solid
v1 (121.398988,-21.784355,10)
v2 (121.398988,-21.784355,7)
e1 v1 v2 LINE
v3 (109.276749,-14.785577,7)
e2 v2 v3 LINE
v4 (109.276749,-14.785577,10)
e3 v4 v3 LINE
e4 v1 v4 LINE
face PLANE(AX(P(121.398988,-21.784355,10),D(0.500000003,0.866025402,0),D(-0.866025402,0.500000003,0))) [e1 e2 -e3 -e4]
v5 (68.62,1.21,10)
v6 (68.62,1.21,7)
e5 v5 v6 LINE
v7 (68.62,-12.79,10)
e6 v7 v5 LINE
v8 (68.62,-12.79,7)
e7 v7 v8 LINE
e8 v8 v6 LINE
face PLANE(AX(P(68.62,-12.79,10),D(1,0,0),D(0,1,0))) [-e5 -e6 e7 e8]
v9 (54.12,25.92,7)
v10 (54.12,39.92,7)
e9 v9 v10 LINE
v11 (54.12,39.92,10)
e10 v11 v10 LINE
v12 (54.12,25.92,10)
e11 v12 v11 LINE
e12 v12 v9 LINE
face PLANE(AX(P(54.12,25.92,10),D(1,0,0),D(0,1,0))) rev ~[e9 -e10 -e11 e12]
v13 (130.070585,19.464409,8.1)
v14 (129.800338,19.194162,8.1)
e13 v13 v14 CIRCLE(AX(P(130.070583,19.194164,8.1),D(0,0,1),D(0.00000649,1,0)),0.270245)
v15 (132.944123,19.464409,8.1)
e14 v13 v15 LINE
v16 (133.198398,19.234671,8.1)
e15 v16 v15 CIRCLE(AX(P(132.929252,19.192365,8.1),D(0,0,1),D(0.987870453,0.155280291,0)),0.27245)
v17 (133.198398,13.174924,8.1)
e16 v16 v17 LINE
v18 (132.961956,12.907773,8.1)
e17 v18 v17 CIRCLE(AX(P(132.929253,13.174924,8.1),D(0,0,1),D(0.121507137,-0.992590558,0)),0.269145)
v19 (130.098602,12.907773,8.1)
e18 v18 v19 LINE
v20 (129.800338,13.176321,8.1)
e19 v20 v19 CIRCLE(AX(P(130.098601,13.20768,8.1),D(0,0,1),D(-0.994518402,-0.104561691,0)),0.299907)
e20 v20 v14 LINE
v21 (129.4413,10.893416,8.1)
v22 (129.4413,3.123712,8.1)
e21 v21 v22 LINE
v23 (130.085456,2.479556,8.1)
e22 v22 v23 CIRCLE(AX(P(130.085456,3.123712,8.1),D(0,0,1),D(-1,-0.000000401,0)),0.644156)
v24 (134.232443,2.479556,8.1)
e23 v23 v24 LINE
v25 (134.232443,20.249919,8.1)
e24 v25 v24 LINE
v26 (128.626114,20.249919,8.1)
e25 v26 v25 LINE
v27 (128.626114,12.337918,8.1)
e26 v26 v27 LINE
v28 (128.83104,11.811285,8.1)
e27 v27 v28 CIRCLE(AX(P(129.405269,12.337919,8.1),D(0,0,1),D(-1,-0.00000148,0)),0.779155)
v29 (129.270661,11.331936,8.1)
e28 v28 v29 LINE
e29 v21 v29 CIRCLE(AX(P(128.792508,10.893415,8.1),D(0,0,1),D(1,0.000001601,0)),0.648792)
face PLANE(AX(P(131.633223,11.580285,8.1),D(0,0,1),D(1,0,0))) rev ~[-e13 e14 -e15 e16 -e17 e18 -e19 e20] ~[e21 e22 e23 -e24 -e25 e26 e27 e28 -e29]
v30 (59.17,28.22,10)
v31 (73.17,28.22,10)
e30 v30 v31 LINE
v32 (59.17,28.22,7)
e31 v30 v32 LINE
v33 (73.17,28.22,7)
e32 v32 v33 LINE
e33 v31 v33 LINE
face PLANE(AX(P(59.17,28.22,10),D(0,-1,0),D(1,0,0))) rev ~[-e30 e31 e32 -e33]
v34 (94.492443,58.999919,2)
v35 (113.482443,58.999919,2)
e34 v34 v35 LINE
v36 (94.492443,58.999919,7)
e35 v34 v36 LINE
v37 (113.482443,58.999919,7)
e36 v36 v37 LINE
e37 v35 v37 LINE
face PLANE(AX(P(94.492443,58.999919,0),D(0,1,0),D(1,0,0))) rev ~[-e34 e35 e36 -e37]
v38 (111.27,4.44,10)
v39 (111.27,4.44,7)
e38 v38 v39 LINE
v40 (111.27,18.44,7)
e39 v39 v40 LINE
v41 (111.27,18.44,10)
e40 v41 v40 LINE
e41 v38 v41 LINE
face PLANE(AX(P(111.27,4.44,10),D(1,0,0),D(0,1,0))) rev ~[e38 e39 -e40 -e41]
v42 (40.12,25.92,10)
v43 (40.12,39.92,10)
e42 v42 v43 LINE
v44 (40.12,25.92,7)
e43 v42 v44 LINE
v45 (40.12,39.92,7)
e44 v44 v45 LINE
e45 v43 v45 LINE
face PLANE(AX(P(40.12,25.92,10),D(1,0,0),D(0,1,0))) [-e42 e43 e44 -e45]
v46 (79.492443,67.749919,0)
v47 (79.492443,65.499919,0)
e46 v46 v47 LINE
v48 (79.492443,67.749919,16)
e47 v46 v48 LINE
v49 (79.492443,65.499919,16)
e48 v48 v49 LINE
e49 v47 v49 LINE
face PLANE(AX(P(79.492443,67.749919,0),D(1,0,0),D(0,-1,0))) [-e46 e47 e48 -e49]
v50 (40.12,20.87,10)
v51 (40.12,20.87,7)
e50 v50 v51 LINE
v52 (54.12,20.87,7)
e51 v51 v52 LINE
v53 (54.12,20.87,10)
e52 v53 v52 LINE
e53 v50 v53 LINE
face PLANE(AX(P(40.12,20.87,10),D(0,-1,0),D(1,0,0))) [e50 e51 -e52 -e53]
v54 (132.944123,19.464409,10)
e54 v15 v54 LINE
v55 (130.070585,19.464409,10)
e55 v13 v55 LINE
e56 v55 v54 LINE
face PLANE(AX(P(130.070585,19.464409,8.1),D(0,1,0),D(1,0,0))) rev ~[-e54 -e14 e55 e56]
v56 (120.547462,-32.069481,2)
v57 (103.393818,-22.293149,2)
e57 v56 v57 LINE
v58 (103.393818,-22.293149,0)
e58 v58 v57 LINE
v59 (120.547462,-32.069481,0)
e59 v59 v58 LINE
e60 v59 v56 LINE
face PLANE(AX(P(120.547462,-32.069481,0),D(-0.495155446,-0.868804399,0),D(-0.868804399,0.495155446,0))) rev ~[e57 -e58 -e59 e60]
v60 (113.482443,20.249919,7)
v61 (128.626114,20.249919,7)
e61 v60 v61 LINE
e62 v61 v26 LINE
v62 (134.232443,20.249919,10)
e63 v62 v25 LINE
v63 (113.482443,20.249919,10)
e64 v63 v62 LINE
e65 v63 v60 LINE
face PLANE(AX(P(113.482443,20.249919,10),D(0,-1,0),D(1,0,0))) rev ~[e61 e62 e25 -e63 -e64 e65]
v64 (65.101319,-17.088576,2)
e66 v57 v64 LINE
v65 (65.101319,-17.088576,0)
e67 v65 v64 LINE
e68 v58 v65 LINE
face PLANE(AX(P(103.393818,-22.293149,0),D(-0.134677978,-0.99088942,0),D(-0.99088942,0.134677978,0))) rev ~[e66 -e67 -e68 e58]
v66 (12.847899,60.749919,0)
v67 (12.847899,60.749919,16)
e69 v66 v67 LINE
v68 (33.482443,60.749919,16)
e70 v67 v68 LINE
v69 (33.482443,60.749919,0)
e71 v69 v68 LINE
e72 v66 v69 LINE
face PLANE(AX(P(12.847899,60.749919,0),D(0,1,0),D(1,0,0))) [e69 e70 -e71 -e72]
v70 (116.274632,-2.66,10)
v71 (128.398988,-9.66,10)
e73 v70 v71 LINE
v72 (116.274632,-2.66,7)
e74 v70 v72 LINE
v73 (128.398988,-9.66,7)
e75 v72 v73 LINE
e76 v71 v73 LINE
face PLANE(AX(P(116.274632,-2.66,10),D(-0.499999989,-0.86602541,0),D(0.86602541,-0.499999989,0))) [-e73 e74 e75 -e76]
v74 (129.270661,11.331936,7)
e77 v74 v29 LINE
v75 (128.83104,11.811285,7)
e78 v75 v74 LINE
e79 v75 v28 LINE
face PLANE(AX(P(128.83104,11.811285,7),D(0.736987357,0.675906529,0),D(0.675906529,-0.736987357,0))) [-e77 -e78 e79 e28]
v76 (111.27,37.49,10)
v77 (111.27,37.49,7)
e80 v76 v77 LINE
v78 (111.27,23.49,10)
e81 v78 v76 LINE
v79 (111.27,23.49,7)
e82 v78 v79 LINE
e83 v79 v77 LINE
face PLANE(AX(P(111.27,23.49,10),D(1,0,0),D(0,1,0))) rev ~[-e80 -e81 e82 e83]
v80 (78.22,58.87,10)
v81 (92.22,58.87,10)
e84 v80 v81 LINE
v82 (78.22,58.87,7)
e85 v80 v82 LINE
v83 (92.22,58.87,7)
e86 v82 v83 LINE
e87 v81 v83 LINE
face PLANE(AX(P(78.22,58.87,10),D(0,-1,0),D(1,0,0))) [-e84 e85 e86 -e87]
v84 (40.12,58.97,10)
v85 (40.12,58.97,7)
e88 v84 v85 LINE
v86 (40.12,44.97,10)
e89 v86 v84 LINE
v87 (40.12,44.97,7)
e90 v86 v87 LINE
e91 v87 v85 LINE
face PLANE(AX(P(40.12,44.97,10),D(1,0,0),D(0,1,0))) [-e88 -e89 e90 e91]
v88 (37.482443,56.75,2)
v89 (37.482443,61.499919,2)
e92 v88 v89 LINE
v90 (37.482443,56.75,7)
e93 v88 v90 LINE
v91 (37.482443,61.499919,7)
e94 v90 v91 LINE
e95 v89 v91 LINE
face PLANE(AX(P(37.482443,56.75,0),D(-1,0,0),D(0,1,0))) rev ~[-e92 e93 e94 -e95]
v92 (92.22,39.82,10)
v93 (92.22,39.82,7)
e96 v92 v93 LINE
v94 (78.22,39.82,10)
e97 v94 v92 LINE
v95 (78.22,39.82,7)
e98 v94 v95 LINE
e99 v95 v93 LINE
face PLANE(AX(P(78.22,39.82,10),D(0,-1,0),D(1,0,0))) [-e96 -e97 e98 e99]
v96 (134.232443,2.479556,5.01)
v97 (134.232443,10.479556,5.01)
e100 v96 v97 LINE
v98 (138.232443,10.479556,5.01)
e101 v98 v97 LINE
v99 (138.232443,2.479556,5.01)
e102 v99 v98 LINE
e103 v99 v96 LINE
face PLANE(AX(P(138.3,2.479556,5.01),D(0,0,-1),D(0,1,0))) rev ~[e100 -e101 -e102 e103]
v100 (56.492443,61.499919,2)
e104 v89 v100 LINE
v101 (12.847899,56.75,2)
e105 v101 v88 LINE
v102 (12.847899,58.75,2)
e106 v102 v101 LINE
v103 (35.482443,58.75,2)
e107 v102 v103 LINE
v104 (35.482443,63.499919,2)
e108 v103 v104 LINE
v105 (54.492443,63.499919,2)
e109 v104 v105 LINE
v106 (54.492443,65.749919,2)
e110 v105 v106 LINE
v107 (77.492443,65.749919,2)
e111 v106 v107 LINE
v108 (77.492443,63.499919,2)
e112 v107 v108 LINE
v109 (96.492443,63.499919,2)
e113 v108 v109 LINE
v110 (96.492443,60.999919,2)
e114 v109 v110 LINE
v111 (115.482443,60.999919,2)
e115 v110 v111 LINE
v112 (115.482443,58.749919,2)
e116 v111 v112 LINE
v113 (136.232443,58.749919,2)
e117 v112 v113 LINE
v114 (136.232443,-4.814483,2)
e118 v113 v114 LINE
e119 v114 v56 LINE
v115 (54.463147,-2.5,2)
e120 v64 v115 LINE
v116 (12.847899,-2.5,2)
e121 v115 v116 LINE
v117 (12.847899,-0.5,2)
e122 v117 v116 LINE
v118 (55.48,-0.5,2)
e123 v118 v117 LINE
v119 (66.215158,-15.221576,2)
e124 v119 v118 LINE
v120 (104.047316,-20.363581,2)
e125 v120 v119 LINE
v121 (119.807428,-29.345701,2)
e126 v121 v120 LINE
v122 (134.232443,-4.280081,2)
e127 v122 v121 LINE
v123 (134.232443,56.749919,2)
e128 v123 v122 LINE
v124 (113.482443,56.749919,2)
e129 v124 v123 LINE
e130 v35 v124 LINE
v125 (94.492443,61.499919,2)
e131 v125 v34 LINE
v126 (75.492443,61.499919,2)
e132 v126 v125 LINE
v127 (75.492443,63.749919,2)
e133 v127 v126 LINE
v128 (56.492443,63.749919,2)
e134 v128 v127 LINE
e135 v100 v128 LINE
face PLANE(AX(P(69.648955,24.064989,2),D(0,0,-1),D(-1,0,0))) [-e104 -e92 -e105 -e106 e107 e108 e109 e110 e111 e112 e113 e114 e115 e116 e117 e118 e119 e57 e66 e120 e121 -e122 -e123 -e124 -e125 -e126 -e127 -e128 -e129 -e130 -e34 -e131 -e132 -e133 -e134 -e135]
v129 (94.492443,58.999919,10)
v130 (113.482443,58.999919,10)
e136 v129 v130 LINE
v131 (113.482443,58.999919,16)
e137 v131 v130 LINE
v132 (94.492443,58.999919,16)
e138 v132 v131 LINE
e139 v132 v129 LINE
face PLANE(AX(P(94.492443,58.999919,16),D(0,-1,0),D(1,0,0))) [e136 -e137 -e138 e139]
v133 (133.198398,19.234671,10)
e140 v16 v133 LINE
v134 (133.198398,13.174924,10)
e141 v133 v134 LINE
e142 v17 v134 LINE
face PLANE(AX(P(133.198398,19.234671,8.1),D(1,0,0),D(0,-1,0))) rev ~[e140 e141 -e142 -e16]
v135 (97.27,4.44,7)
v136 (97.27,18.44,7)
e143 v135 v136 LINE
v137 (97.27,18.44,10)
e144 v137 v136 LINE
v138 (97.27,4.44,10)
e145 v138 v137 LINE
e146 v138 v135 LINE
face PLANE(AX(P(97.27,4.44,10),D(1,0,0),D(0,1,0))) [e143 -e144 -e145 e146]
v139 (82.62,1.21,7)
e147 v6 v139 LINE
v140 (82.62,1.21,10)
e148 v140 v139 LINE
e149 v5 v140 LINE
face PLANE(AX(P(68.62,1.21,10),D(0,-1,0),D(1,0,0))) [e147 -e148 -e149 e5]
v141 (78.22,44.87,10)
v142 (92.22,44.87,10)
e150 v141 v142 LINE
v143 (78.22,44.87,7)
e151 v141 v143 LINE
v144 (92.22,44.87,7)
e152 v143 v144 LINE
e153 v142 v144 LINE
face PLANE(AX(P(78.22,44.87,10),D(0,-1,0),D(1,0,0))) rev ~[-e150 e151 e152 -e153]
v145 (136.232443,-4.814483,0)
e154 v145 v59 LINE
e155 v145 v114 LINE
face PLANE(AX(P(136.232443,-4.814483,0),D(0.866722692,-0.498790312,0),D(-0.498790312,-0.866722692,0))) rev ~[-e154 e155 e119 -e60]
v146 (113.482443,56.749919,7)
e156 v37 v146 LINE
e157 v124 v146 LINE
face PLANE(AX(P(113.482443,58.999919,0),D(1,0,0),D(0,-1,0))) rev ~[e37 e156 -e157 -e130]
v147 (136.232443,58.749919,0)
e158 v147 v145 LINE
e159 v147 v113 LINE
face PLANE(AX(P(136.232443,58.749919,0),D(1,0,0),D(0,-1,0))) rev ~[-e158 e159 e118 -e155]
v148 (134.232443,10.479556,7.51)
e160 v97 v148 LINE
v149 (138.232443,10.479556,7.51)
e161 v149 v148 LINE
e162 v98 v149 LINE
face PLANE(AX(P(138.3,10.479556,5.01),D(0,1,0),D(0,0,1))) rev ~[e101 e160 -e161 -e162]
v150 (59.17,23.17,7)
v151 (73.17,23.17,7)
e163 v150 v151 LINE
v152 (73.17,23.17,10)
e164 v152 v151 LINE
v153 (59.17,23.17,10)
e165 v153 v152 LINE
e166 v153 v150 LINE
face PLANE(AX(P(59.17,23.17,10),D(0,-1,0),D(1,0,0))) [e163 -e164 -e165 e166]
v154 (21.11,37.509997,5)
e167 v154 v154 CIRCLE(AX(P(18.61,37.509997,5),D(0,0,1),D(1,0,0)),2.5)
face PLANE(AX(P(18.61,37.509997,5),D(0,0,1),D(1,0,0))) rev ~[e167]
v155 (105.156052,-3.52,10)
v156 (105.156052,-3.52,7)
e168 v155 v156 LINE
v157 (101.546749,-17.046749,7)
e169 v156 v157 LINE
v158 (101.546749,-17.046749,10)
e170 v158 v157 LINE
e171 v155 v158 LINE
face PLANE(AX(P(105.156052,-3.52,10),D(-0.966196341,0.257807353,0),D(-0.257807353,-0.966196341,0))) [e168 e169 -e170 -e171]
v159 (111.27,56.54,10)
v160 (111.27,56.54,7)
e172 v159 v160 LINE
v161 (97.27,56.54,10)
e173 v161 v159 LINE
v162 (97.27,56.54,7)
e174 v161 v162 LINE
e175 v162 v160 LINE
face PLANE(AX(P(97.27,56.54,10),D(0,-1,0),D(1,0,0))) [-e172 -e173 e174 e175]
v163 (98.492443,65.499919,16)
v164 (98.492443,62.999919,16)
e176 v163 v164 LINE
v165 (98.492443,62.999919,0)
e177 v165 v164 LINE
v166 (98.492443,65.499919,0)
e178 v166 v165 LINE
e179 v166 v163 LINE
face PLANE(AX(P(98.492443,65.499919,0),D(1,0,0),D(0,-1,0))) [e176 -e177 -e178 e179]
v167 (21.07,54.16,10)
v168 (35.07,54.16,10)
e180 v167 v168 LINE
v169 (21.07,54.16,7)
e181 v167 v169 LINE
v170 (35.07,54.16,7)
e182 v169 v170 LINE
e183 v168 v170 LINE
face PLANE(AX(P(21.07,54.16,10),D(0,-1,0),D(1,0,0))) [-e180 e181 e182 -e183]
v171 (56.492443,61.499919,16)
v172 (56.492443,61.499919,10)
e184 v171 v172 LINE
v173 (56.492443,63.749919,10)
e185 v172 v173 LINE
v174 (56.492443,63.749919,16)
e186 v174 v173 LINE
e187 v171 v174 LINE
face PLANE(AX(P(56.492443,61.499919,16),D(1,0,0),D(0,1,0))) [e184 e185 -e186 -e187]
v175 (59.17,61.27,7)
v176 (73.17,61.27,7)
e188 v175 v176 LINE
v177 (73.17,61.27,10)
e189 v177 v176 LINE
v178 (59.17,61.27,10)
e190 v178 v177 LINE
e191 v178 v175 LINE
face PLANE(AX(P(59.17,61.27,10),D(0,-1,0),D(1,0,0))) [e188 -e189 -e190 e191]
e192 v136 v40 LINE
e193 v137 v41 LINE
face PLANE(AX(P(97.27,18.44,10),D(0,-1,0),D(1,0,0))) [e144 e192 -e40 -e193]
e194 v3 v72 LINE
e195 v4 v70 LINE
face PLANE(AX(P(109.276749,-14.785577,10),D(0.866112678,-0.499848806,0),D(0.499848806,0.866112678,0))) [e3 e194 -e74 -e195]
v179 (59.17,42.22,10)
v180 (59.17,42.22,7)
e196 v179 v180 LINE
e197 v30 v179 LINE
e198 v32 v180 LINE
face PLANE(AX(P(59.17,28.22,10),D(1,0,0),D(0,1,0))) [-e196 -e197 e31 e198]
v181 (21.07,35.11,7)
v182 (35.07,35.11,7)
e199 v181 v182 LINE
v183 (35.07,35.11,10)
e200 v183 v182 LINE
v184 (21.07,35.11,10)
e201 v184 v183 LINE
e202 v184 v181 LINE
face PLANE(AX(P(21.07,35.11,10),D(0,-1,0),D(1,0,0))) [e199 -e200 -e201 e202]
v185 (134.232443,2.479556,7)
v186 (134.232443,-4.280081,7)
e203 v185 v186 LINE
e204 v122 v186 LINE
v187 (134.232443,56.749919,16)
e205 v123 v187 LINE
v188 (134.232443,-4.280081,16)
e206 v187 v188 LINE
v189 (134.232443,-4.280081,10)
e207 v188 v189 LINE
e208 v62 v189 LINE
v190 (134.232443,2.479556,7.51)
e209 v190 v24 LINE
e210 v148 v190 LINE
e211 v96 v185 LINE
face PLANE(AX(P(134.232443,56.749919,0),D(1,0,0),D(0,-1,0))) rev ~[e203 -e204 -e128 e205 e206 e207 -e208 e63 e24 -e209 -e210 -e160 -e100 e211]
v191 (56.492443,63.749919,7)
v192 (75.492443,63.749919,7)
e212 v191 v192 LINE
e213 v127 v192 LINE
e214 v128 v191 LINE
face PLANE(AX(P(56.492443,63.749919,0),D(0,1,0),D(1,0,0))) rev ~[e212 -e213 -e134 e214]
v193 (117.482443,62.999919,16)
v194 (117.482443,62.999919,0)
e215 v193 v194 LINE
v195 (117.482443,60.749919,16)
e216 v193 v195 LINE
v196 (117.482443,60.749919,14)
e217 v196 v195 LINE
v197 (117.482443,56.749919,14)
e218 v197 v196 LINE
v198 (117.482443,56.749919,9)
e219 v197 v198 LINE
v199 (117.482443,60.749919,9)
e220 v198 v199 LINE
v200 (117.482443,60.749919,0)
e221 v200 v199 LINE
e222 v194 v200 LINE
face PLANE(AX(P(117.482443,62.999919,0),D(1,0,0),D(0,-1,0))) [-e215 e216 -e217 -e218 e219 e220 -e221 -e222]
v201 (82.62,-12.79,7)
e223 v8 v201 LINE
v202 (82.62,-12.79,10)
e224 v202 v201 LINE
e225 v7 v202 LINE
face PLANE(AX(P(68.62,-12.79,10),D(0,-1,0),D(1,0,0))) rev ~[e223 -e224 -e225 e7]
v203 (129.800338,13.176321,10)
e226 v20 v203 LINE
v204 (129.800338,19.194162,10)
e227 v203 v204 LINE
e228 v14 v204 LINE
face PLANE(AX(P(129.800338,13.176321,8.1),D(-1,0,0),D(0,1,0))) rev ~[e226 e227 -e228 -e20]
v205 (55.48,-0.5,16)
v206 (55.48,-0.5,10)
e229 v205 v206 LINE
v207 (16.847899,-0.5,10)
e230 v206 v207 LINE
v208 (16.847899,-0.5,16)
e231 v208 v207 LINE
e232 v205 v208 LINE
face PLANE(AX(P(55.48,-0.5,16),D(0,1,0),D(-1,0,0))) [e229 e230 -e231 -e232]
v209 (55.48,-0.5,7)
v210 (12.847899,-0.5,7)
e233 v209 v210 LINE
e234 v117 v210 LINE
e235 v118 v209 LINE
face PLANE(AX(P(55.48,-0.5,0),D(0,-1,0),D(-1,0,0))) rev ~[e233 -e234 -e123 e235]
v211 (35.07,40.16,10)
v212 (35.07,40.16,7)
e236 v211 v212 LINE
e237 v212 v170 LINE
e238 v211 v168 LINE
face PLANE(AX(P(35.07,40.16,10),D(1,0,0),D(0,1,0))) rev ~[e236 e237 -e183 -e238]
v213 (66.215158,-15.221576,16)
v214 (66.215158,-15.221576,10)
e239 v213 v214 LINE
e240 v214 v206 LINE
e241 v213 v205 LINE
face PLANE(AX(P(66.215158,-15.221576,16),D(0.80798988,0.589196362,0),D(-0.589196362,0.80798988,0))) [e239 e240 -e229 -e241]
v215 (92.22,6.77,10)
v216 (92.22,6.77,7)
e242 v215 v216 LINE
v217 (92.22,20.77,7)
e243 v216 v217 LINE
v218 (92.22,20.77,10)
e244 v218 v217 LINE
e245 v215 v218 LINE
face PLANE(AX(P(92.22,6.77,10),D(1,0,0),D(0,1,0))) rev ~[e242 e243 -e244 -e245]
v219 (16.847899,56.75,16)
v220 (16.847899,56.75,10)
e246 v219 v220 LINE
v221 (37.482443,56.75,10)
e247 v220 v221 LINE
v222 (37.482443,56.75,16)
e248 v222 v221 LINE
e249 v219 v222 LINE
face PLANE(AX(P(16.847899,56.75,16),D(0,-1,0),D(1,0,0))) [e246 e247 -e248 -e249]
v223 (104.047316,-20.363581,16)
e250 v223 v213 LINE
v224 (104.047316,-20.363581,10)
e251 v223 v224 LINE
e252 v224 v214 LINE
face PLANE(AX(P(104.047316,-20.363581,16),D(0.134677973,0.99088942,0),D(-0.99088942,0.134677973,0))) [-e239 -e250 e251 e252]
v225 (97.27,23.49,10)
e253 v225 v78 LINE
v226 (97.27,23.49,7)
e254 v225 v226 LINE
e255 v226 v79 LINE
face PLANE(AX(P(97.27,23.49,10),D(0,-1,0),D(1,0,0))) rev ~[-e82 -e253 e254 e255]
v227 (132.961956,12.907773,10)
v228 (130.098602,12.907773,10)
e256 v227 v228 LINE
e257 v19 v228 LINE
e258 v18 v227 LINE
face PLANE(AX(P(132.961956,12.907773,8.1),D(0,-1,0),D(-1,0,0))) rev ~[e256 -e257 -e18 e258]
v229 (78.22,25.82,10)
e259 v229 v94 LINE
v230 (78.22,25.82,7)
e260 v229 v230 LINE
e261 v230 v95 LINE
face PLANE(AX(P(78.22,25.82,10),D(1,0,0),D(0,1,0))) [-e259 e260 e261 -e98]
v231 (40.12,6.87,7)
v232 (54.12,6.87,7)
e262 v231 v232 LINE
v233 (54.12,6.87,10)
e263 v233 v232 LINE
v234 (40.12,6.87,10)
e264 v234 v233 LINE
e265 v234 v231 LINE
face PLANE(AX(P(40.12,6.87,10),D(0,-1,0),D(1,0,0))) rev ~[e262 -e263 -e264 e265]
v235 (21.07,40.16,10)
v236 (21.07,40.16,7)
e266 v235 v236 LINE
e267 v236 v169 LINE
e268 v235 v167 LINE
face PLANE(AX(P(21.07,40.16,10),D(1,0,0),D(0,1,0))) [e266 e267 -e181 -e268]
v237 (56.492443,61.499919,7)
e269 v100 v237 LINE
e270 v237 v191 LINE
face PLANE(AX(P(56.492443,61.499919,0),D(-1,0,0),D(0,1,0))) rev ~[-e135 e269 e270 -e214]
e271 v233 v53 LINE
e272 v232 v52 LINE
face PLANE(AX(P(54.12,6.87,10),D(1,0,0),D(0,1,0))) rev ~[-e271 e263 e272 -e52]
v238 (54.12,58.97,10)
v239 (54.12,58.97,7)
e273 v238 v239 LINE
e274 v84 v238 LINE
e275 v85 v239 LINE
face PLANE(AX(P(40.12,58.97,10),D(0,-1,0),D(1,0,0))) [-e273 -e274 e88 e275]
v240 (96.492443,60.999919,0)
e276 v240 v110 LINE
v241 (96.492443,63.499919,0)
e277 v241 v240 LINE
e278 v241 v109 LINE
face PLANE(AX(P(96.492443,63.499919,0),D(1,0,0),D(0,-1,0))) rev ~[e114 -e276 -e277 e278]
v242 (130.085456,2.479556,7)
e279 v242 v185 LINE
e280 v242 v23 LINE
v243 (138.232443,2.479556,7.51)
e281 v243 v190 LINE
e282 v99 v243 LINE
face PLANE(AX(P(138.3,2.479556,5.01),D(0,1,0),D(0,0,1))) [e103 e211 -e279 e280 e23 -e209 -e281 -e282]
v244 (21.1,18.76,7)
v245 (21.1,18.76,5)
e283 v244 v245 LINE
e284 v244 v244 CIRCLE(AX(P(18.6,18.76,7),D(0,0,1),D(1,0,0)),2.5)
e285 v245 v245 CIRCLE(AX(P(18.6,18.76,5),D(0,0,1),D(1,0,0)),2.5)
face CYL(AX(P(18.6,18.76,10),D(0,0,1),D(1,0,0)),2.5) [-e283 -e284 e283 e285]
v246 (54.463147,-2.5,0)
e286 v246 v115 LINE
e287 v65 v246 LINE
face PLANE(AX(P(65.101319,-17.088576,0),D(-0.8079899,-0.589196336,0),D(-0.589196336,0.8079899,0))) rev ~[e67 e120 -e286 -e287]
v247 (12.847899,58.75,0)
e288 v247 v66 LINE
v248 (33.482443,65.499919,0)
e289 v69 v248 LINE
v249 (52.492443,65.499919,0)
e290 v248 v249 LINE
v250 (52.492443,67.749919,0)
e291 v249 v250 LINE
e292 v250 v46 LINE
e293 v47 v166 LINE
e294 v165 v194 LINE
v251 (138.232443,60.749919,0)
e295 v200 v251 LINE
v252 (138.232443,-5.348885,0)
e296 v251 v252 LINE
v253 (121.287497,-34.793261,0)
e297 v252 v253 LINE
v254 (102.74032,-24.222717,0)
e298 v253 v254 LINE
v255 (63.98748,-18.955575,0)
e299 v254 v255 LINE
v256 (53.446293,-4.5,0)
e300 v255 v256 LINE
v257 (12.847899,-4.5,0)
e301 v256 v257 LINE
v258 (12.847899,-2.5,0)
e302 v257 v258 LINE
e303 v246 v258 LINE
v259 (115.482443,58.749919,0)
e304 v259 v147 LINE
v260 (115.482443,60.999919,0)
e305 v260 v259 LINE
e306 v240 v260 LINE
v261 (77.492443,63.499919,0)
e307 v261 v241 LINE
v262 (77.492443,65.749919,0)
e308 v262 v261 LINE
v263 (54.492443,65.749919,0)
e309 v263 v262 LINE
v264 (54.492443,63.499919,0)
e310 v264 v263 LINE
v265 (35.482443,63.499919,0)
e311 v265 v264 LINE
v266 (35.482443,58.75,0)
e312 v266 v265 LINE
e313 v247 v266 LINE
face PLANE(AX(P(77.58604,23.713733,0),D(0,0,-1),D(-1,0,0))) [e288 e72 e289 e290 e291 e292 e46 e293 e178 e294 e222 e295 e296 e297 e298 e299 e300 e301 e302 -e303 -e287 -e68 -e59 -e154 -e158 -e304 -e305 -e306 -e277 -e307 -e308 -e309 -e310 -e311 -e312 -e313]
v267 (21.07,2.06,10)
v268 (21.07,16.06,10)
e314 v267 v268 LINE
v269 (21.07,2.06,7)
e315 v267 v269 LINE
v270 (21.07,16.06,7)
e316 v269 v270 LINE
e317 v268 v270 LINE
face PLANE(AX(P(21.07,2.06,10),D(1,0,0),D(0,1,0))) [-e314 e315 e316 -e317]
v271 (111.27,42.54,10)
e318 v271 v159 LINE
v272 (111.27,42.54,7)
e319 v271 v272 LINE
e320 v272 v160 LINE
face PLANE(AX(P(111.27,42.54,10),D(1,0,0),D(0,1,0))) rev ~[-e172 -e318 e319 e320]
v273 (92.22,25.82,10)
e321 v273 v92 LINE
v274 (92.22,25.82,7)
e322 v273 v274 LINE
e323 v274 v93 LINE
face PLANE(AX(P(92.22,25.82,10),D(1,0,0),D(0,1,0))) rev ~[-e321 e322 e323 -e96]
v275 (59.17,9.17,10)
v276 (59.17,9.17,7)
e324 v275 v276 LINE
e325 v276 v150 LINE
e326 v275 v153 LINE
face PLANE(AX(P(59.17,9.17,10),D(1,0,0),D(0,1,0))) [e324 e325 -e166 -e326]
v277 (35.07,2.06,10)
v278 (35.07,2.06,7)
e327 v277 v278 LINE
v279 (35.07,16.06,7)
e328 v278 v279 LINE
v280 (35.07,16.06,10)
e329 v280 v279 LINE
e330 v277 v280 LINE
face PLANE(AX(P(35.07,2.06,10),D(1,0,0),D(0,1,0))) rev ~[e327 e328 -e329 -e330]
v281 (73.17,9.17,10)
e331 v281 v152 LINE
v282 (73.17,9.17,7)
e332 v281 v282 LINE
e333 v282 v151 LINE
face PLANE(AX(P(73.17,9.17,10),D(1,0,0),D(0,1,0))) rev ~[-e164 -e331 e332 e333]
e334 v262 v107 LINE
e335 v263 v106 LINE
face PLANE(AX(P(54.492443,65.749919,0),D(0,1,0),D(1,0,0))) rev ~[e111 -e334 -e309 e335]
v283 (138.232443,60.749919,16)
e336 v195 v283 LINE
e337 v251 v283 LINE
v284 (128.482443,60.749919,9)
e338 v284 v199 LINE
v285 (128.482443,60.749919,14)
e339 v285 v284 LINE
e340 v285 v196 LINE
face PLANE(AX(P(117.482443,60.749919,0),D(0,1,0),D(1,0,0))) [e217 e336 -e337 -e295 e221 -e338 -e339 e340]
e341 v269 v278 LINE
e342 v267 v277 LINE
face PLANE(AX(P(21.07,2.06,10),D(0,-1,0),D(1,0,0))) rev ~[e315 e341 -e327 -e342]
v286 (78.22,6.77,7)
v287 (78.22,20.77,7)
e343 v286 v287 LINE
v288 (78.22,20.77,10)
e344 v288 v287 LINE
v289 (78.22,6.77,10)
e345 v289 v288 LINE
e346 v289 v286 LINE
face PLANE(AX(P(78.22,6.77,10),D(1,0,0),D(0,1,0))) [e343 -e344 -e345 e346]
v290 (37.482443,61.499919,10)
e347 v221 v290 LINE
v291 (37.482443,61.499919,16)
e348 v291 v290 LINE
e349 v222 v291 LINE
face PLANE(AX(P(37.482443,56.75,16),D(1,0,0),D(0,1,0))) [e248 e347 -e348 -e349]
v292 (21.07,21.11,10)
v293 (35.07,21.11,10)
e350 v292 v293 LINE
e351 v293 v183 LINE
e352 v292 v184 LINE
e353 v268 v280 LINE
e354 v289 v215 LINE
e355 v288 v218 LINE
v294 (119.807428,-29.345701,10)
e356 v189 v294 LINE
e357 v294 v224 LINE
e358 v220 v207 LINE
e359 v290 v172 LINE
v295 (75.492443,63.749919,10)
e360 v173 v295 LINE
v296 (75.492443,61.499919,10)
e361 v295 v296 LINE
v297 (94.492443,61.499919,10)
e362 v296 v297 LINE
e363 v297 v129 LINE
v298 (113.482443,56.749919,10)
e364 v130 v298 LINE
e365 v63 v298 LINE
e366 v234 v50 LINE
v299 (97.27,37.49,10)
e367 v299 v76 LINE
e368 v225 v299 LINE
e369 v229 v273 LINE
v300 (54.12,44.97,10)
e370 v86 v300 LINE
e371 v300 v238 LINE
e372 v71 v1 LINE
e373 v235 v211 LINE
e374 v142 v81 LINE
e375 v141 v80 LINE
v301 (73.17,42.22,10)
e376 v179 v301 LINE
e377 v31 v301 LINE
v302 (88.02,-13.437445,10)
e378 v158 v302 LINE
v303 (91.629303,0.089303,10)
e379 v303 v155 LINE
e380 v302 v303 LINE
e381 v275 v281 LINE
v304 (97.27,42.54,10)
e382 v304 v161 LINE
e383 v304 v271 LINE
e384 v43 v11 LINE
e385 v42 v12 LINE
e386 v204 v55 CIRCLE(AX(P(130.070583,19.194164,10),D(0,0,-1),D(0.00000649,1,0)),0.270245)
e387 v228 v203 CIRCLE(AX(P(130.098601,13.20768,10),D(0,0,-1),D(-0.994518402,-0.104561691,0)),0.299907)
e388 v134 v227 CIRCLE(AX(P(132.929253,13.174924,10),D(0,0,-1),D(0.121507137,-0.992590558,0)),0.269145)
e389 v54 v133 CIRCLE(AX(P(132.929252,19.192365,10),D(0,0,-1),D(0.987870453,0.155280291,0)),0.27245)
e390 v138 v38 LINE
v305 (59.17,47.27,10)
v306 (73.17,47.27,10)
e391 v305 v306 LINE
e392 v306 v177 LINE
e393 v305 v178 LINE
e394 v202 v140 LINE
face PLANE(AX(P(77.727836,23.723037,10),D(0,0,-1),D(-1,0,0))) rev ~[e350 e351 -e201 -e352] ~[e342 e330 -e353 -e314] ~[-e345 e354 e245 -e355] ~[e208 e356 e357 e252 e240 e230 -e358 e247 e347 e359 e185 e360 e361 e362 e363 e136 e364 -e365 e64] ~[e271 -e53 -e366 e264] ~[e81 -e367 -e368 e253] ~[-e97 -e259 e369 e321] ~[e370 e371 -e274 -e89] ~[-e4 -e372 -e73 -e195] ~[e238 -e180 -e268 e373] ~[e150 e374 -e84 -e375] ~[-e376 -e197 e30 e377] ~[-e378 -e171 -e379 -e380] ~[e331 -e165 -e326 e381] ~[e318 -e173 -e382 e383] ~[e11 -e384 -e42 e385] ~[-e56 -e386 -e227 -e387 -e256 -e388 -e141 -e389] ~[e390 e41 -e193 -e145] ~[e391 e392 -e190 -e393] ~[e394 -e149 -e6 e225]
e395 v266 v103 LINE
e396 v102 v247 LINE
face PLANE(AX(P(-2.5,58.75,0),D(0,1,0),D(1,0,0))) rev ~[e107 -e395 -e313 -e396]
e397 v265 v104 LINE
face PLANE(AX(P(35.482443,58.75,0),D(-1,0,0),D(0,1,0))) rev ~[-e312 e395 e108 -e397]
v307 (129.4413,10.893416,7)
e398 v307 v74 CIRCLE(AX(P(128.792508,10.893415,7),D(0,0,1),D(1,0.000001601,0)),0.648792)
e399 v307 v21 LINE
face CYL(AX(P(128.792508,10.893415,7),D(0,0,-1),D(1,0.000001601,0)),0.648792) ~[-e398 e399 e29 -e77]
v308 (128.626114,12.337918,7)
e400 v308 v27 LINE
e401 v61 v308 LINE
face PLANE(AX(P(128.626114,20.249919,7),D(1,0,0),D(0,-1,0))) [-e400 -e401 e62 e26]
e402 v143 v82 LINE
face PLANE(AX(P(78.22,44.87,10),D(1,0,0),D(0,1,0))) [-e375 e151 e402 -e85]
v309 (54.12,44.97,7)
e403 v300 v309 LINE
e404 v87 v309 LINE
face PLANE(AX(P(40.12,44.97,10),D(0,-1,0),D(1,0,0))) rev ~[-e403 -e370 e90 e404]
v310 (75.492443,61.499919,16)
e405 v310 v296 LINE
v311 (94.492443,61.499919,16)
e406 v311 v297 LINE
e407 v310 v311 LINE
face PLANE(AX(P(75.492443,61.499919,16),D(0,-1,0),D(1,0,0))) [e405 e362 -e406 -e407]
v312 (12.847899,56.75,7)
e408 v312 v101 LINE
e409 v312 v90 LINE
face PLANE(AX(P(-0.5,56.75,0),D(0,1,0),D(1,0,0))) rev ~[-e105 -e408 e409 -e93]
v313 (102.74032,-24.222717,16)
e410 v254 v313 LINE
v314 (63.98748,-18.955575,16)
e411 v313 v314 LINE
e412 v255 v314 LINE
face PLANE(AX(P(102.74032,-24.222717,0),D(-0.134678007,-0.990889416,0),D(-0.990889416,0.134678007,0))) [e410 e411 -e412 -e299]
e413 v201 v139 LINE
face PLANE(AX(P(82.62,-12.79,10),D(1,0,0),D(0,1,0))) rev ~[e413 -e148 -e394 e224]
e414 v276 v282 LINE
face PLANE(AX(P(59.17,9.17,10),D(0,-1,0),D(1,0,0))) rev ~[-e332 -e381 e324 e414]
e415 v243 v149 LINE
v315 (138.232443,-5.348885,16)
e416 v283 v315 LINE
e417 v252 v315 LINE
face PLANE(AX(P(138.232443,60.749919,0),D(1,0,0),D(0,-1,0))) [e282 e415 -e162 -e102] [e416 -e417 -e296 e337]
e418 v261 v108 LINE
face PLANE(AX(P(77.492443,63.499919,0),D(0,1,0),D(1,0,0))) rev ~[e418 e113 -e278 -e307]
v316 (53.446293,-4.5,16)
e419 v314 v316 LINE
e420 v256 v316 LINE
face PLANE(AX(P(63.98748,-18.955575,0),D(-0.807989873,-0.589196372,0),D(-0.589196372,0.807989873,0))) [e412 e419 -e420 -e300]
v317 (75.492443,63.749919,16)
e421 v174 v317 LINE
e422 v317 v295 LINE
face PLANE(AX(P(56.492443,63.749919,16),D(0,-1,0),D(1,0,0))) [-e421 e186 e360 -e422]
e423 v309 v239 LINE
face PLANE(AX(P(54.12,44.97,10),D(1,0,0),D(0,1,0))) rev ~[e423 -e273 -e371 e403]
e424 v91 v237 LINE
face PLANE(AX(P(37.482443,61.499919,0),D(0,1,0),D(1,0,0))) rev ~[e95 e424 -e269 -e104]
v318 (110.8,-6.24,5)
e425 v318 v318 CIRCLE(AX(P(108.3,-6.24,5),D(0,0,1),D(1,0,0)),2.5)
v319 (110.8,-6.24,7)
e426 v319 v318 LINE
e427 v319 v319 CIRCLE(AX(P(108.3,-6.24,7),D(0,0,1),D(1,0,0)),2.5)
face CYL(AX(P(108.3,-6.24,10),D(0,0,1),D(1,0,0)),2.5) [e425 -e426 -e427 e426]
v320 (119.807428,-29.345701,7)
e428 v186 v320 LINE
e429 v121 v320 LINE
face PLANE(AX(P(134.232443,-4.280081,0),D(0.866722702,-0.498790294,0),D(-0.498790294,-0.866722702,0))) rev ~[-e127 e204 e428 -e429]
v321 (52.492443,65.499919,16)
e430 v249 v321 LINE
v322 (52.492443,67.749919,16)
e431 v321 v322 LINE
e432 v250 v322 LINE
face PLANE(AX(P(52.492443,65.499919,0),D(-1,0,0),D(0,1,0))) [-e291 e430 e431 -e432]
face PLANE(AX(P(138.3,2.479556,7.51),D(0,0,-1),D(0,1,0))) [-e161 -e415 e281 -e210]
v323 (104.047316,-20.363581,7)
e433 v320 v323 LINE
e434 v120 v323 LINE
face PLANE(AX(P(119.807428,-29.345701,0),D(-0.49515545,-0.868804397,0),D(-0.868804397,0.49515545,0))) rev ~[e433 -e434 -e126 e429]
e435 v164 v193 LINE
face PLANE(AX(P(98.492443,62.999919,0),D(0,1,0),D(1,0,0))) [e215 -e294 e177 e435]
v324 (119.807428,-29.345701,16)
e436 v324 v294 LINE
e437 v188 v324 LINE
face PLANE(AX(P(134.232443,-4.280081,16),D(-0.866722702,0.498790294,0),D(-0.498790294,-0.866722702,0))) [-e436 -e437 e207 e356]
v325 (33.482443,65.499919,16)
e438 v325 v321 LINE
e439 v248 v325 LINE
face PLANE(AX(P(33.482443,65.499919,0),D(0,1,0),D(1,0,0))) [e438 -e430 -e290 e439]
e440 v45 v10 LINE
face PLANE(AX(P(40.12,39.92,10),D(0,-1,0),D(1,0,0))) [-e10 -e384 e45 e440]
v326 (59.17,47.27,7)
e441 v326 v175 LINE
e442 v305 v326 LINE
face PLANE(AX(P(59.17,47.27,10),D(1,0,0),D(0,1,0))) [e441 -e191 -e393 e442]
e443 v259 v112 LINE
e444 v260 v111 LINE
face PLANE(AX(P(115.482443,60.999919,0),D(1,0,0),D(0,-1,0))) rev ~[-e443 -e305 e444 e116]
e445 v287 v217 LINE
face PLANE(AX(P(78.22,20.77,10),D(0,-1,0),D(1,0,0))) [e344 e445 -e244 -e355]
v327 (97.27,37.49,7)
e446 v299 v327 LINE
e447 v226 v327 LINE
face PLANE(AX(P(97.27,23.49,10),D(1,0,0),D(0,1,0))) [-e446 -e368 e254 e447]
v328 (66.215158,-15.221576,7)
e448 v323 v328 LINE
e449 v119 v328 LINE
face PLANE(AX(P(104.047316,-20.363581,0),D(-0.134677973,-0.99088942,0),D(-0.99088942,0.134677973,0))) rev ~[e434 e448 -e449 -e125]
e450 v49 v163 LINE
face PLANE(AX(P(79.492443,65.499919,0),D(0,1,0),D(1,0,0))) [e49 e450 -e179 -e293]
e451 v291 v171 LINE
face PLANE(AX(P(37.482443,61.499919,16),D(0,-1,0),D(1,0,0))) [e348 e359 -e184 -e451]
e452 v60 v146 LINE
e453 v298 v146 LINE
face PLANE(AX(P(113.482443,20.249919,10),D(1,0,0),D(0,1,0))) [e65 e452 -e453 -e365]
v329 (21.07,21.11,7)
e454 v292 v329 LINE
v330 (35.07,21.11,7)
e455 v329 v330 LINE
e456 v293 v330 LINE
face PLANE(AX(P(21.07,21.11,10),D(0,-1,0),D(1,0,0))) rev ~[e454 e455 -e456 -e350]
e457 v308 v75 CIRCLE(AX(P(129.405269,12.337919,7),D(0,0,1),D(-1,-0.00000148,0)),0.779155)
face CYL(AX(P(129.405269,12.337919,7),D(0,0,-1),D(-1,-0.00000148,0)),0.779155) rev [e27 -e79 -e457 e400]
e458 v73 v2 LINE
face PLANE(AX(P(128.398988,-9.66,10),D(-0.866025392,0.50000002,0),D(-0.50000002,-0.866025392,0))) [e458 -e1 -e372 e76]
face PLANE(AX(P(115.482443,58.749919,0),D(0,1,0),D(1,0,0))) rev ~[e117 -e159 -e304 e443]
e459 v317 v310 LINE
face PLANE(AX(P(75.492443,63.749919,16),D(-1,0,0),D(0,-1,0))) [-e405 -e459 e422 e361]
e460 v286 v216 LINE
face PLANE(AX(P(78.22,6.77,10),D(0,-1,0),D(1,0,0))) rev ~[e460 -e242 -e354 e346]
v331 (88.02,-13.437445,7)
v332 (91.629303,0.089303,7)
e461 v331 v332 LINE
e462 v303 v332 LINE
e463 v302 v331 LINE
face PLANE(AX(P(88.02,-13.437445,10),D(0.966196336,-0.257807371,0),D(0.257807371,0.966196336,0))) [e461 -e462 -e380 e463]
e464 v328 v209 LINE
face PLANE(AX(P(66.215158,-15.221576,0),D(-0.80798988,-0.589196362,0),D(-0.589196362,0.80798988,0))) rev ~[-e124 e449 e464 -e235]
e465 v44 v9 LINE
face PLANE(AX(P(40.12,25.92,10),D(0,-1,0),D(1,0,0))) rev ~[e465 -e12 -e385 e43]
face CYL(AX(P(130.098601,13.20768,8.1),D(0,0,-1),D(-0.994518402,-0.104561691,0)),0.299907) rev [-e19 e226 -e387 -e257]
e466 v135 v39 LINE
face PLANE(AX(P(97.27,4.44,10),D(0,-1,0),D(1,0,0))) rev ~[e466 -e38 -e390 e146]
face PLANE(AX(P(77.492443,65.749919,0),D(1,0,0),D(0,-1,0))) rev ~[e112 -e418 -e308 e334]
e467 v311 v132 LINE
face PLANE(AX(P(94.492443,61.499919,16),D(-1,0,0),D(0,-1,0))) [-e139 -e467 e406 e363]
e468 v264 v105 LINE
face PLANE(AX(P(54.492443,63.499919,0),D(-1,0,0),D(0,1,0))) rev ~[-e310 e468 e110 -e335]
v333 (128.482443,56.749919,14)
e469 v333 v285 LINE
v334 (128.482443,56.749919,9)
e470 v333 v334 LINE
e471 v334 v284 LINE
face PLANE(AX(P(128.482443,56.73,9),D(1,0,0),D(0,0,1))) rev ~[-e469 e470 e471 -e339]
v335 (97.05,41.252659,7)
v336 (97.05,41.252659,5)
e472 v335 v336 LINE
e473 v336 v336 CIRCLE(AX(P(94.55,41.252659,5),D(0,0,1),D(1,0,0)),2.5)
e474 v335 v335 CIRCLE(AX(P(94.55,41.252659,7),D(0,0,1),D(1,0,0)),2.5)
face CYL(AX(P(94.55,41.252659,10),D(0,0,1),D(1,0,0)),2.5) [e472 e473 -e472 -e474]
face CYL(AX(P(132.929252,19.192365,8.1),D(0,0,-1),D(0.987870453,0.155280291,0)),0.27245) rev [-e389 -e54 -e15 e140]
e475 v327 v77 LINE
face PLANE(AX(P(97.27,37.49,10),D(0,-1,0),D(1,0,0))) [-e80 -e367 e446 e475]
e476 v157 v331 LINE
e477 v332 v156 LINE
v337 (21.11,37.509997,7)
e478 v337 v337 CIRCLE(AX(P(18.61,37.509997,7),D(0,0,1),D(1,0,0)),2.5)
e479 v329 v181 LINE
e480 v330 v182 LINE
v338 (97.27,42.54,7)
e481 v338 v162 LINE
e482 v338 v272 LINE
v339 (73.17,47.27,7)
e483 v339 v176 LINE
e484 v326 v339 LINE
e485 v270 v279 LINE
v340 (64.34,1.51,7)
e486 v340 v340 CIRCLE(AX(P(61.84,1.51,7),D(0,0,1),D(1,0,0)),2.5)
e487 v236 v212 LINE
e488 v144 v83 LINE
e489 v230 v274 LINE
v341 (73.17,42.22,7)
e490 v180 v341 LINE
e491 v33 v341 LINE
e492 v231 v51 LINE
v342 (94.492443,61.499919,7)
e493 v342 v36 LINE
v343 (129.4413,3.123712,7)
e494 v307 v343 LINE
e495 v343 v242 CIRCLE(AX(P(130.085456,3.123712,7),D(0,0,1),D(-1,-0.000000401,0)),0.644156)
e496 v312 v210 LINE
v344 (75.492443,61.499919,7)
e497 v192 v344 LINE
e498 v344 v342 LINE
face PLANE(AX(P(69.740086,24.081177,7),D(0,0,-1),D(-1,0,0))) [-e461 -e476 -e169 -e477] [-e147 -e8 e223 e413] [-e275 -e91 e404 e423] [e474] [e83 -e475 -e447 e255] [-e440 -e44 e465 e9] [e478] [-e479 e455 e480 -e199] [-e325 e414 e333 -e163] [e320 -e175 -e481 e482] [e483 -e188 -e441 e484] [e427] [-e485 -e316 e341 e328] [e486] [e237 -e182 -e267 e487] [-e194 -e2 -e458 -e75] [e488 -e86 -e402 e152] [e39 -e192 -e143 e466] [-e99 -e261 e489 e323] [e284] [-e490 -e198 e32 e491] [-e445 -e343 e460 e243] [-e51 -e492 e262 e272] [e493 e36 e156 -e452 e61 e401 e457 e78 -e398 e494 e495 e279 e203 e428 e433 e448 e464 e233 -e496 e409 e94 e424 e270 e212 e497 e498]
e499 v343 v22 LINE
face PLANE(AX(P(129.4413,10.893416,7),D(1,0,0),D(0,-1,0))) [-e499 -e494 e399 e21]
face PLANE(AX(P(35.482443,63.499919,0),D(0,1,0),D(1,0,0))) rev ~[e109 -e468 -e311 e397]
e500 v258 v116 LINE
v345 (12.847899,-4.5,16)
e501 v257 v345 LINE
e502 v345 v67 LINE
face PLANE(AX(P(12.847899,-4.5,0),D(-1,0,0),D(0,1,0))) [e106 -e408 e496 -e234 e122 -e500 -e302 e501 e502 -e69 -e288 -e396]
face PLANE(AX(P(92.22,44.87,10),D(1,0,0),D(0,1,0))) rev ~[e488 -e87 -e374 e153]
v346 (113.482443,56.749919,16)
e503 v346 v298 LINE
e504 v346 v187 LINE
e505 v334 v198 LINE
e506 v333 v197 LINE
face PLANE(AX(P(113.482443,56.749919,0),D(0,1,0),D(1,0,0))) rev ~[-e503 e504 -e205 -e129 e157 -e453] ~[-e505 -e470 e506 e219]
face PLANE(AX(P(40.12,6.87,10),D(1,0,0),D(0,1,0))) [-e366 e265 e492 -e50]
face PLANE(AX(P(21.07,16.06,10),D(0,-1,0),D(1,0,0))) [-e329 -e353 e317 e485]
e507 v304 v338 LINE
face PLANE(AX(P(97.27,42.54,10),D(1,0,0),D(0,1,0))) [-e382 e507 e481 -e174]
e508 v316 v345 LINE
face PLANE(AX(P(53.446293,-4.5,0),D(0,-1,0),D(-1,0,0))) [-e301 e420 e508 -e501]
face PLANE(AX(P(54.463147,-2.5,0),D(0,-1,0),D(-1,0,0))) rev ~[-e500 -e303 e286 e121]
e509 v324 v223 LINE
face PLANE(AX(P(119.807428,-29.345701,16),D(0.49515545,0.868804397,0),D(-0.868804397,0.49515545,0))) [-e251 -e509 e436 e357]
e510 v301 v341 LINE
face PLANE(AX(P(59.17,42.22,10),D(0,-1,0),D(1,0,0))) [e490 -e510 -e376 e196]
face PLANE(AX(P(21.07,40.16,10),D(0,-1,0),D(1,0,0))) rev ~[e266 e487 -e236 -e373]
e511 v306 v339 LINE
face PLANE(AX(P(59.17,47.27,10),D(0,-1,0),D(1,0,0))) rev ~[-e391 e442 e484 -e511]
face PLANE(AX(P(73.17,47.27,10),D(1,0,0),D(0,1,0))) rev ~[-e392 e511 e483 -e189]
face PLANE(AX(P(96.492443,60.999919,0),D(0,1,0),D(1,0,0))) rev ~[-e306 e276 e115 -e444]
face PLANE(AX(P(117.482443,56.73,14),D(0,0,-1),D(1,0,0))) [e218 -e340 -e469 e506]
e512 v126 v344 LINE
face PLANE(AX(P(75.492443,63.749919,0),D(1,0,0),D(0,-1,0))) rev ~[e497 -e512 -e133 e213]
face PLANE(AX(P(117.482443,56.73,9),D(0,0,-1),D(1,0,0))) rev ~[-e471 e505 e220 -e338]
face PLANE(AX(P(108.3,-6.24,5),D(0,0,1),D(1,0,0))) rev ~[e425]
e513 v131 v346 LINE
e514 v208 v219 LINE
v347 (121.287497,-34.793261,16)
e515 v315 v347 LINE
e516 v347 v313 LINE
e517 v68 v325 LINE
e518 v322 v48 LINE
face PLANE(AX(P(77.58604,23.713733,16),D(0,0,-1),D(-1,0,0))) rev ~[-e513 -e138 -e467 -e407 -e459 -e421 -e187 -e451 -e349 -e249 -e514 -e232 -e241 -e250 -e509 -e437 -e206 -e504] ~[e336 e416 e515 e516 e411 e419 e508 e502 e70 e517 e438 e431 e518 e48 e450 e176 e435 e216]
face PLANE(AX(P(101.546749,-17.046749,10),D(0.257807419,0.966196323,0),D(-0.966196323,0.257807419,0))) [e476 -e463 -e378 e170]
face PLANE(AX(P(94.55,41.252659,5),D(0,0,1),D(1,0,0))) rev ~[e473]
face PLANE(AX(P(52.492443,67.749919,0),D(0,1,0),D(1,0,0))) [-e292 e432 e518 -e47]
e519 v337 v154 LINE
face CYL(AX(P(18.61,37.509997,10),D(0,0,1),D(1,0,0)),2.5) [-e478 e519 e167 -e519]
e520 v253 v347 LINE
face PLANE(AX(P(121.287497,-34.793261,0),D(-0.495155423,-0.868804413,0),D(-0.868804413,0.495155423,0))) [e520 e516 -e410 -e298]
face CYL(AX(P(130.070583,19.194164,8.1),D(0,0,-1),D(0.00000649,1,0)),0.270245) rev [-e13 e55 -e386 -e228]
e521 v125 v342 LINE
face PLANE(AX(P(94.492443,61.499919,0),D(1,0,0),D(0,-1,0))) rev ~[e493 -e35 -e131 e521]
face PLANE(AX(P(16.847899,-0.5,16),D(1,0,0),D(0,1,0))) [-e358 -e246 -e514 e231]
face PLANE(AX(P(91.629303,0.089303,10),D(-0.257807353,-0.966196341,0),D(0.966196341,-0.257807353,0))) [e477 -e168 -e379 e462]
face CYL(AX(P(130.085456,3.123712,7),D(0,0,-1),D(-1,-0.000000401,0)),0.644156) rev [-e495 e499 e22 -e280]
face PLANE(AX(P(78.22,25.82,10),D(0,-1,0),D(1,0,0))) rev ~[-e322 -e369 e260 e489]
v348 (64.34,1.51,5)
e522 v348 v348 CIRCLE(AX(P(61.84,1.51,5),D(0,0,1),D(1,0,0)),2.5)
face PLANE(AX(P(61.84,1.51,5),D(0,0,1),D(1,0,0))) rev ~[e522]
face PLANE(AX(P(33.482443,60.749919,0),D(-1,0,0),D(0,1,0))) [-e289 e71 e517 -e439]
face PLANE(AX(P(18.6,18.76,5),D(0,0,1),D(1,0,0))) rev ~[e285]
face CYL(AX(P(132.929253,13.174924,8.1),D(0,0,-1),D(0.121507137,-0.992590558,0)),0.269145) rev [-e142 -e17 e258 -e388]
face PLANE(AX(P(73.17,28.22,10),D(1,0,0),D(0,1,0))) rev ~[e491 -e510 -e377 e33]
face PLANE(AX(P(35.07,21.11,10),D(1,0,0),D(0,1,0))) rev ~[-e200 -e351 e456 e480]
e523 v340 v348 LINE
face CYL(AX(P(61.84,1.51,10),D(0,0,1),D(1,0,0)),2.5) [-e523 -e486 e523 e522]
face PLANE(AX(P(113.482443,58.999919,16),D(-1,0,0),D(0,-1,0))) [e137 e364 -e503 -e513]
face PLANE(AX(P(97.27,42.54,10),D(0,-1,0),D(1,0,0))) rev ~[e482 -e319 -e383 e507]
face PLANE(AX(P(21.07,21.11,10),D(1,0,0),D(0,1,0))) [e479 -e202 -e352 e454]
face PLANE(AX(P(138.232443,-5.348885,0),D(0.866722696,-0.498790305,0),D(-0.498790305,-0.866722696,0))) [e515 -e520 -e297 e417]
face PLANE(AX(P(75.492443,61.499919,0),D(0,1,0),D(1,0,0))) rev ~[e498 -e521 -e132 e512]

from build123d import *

# Parameters (mm, degrees)
PAD005_DEPTH        = 16
POCKET_DEPTH        = 6
POCKET012_DEPTH     = 7
SKETCH001_W         = 14
SKETCH001_H         = 14
SKETCH001_W_2       = 20.75
SKETCH001_H_2       = 36.5
POCKET013_DEPTH     = 3
MIRROREDSKETCH009_R = 2.5
PAD_DEPTH           = 5
SKETCH_W            = 8
SKETCH_H            = 2.5
POCKET014_DEPTH     = 5
SKETCH015_W         = 11
SKETCH015_H         = 5
POCKET015_DEPTH     = 7
POCKET018_DEPTH     = 2
POCKET025_DEPTH     = 5
POCKET026_DEPTH     = 1.1


with BuildPart() as part:
    # MirroredSketch002 → Pad005 (new body)
    with BuildSketch(Plane.XY):
        Polygon((12.847899, 60.749919), (33.482443, 60.749919), (33.482443, 65.499919), (52.492443, 65.499919), (52.492443, 67.749919), (79.492443, 67.749919), (79.492443, 65.499919), (98.492443, 65.499919), (98.492443, 62.999919), (117.482443, 62.999919), (117.482443, 60.749919), (138.232443, 60.749919), (138.232443, -5.348885), (121.287497, -34.793261), (102.74032, -24.222717), (63.98748, -18.955575), (53.446293, -4.5), (12.847899, -4.5), align=None)
    extrude(amount=PAD005_DEPTH)

    # MirroredSketch005 → Pocket (cut)
    with BuildSketch(Plane.XY.offset(16)):
        Polygon((16.847899, -0.5), (16.847899, 56.75), (37.482443, 56.75), (37.482443, 61.499919), (56.492443, 61.499919), (56.492443, 63.749919), (75.492443, 63.749919), (75.492443, 61.499919), (94.492443, 61.499919), (94.492443, 58.999919), (113.482443, 58.999919), (113.482443, 56.749919), (134.232443, 56.749919), (134.232443, -4.280081), (119.807428, -29.345701), (104.047316, -20.363581), (66.215158, -15.221576), (55.48, -0.5), align=None)
    extrude(amount=-POCKET_DEPTH, mode=Mode.SUBTRACT)

    # MirroredSketch006 → Pocket012 (cut)
    with BuildSketch(Plane.XY):
        Polygon((-0.5, -0.5), (-0.5, 56.75), (37.482443, 56.75), (37.482443, 61.499919), (56.492443, 61.499919), (56.492443, 63.749919), (75.492443, 63.749919), (75.492443, 61.499919), (94.492443, 61.499919), (94.492443, 58.999919), (113.482443, 58.999919), (113.482443, 56.749919), (134.232443, 56.749919), (134.232443, -4.280081), (119.807428, -29.345701), (104.047316, -20.363581), (66.215158, -15.221576), (55.48, -0.5), align=None)
    extrude(amount=POCKET012_DEPTH, mode=Mode.SUBTRACT)

    # Sketch001 → Pocket013 (cut)
    with BuildSketch(Plane.XY.offset(10)):
        with Locations((75.62, -5.79)):
            Rectangle(SKETCH001_W, SKETCH001_H)
        Polygon((91.629303, 0.089303), (105.156052, -3.52), (101.546749, -17.046749), (88.02, -13.437445), align=None)
        Polygon((116.274632, -2.66), (128.398988, -9.66), (121.398988, -21.784355), (109.276749, -14.785577), align=None)
        with Locations((28.07, 47.16)):
            Rectangle(SKETCH001_W, SKETCH001_H)
        with Locations((28.07, 9.06)):
            Rectangle(SKETCH001_W, SKETCH001_H)
        with Locations((47.12, 51.97)):
            Rectangle(SKETCH001_W, SKETCH001_H)
        with Locations((47.12, 13.87)):
            Rectangle(SKETCH001_W, SKETCH001_H)
        with Locations((66.17, 54.27)):
            Rectangle(SKETCH001_W, SKETCH001_H)
        with Locations((66.17, 16.17)):
            Rectangle(SKETCH001_W, SKETCH001_H)
        with Locations((85.22, 51.87)):
            Rectangle(SKETCH001_W, SKETCH001_H)
        with Locations((85.22, 13.77)):
            Rectangle(SKETCH001_W, SKETCH001_H)
        with Locations((104.27, 49.54)):
            Rectangle(SKETCH001_W, SKETCH001_H)
        with Locations((47.12, 32.92)):
            Rectangle(SKETCH001_W, SKETCH001_H)
        with Locations((66.17, 35.22)):
            Rectangle(SKETCH001_W, SKETCH001_H)
        with Locations((28.07, 28.11)):
            Rectangle(SKETCH001_W, SKETCH001_H)
        with Locations((104.27, 30.49)):
            Rectangle(SKETCH001_W, SKETCH001_H)
        with Locations((104.27, 11.44)):
            Rectangle(SKETCH001_W, SKETCH001_H)
        with Locations((85.22, 32.82)):
            Rectangle(SKETCH001_W, SKETCH001_H)
        with Locations((123.857443, 38.499919)):
            Rectangle(SKETCH001_W_2, SKETCH001_H_2)
    extrude(amount=-POCKET013_DEPTH, mode=Mode.SUBTRACT)

    # MirroredSketch009 → Pad (join)
    with BuildSketch(Plane.XY.offset(10)):
        with Locations((18.61, 37.509997)):
            Circle(MIRROREDSKETCH009_R)
        with Locations((18.6, 18.76)):
            Circle(MIRROREDSKETCH009_R)
        with Locations((94.55, 41.252659)):
            Circle(MIRROREDSKETCH009_R)
        with Locations((61.84, 1.51)):
            Circle(MIRROREDSKETCH009_R)
        with Locations((108.3, -6.24)):
            Circle(MIRROREDSKETCH009_R)
    extrude(amount=-PAD_DEPTH)

    # Sketch → Pocket014 (cut)
    with BuildSketch(Plane.YZ.offset(138.3)):
        with Locations((6.479556, 6.26)):
            Rectangle(SKETCH_W, SKETCH_H)
    extrude(amount=-POCKET014_DEPTH, mode=Mode.SUBTRACT)

    # Sketch015 → Pocket015 (cut)
    with BuildSketch(Plane(origin=(6, 56.73, -16.55), x_dir=(1, 0, 0), z_dir=(0, -1, 0))):
        with Locations((116.982443, 28.05)):
            Rectangle(SKETCH015_W, SKETCH015_H)
    extrude(amount=-POCKET015_DEPTH, mode=Mode.SUBTRACT)

    # MirroredSketch013 → Pocket018 (cut)
    with BuildSketch(Plane.XY):
        Polygon((-2.5, 58.75), (35.482443, 58.75), (35.482443, 63.499919), (54.492443, 63.499919), (54.492443, 65.749919), (77.492443, 65.749919), (77.492443, 63.499919), (96.492443, 63.499919), (96.492443, 60.999919), (115.482443, 60.999919), (115.482443, 58.749919), (136.232443, 58.749919), (136.232443, -4.814483), (120.547462, -32.069481), (103.393818, -22.293149), (65.101319, -17.088576), (54.463147, -2.5), (-2.5, -2.5), align=None)
        Polygon((-0.5, -0.5), (-0.5, 56.75), (37.482443, 56.75), (37.482443, 61.499919), (56.492443, 61.499919), (56.492443, 63.749919), (75.492443, 63.749919), (75.492443, 61.499919), (94.492443, 61.499919), (94.492443, 58.999919), (113.482443, 58.999919), (113.482443, 56.749919), (134.232443, 56.749919), (134.232443, -4.280081), (119.807428, -29.345701), (104.047316, -20.363581), (66.215158, -15.221576), (55.48, -0.5), align=None, mode=Mode.SUBTRACT)
    extrude(amount=POCKET018_DEPTH, mode=Mode.SUBTRACT)

    # Sketch042 → Pocket025 (cut)
    with BuildSketch(Plane(origin=(131.5, 16.2, 8.1), x_dir=(1, 0, 0), z_dir=(0, 0, 1))):
        with BuildLine():
            ThreePointArc((-1.699662, -3.023679), (-1.602072, -3.215198), (-1.401398, -3.292227))
            Line((1.461956, -3.292227), (-1.401398, -3.292227))
            ThreePointArc((1.461956, -3.292227), (1.630798, -3.203454), (1.698398, -3.025076))
            Line((1.698398, 3.034671), (1.698398, -3.025076))
            ThreePointArc((1.698398, 3.034671), (1.611903, 3.194523), (1.444123, 3.264409))
            Line((-1.429415, 3.264409), (1.444123, 3.264409))
            ThreePointArc((-1.429415, 3.264409), (-1.620509, 3.185256), (-1.699662, 2.994162))
            Line((-1.699662, -3.023679), (-1.699662, 2.994162))
        make_face()
    extrude(amount=POCKET025_DEPTH, mode=Mode.SUBTRACT)

    # Sketch045 → Pocket026 (cut)
    with BuildSketch(Plane.XY.offset(7)):
        with BuildLine():
            Line((128.626114, 20.249919), (128.626114, 12.337918))
            ThreePointArc((128.626114, 12.337918), (128.679151, 12.055368), (128.83104, 11.811285))
            Line((128.83104, 11.811285), (129.270661, 11.331936))
            ThreePointArc((129.4413, 10.893416), (129.397137, 11.128691), (129.270661, 11.331936))
            Line((129.4413, 10.893416), (129.4413, 3.123712))
            ThreePointArc((129.4413, 3.123712), (129.629969, 2.668225), (130.085456, 2.479556))
            Line((130.085456, 2.479556), (134.232443, 2.479556))
            Line((134.232443, 20.249919), (134.232443, 2.479556))
            Line((128.626114, 20.249919), (134.232443, 20.249919))
        make_face()
    extrude(amount=POCKET026_DEPTH, mode=Mode.SUBTRACT)


solid = part.part
